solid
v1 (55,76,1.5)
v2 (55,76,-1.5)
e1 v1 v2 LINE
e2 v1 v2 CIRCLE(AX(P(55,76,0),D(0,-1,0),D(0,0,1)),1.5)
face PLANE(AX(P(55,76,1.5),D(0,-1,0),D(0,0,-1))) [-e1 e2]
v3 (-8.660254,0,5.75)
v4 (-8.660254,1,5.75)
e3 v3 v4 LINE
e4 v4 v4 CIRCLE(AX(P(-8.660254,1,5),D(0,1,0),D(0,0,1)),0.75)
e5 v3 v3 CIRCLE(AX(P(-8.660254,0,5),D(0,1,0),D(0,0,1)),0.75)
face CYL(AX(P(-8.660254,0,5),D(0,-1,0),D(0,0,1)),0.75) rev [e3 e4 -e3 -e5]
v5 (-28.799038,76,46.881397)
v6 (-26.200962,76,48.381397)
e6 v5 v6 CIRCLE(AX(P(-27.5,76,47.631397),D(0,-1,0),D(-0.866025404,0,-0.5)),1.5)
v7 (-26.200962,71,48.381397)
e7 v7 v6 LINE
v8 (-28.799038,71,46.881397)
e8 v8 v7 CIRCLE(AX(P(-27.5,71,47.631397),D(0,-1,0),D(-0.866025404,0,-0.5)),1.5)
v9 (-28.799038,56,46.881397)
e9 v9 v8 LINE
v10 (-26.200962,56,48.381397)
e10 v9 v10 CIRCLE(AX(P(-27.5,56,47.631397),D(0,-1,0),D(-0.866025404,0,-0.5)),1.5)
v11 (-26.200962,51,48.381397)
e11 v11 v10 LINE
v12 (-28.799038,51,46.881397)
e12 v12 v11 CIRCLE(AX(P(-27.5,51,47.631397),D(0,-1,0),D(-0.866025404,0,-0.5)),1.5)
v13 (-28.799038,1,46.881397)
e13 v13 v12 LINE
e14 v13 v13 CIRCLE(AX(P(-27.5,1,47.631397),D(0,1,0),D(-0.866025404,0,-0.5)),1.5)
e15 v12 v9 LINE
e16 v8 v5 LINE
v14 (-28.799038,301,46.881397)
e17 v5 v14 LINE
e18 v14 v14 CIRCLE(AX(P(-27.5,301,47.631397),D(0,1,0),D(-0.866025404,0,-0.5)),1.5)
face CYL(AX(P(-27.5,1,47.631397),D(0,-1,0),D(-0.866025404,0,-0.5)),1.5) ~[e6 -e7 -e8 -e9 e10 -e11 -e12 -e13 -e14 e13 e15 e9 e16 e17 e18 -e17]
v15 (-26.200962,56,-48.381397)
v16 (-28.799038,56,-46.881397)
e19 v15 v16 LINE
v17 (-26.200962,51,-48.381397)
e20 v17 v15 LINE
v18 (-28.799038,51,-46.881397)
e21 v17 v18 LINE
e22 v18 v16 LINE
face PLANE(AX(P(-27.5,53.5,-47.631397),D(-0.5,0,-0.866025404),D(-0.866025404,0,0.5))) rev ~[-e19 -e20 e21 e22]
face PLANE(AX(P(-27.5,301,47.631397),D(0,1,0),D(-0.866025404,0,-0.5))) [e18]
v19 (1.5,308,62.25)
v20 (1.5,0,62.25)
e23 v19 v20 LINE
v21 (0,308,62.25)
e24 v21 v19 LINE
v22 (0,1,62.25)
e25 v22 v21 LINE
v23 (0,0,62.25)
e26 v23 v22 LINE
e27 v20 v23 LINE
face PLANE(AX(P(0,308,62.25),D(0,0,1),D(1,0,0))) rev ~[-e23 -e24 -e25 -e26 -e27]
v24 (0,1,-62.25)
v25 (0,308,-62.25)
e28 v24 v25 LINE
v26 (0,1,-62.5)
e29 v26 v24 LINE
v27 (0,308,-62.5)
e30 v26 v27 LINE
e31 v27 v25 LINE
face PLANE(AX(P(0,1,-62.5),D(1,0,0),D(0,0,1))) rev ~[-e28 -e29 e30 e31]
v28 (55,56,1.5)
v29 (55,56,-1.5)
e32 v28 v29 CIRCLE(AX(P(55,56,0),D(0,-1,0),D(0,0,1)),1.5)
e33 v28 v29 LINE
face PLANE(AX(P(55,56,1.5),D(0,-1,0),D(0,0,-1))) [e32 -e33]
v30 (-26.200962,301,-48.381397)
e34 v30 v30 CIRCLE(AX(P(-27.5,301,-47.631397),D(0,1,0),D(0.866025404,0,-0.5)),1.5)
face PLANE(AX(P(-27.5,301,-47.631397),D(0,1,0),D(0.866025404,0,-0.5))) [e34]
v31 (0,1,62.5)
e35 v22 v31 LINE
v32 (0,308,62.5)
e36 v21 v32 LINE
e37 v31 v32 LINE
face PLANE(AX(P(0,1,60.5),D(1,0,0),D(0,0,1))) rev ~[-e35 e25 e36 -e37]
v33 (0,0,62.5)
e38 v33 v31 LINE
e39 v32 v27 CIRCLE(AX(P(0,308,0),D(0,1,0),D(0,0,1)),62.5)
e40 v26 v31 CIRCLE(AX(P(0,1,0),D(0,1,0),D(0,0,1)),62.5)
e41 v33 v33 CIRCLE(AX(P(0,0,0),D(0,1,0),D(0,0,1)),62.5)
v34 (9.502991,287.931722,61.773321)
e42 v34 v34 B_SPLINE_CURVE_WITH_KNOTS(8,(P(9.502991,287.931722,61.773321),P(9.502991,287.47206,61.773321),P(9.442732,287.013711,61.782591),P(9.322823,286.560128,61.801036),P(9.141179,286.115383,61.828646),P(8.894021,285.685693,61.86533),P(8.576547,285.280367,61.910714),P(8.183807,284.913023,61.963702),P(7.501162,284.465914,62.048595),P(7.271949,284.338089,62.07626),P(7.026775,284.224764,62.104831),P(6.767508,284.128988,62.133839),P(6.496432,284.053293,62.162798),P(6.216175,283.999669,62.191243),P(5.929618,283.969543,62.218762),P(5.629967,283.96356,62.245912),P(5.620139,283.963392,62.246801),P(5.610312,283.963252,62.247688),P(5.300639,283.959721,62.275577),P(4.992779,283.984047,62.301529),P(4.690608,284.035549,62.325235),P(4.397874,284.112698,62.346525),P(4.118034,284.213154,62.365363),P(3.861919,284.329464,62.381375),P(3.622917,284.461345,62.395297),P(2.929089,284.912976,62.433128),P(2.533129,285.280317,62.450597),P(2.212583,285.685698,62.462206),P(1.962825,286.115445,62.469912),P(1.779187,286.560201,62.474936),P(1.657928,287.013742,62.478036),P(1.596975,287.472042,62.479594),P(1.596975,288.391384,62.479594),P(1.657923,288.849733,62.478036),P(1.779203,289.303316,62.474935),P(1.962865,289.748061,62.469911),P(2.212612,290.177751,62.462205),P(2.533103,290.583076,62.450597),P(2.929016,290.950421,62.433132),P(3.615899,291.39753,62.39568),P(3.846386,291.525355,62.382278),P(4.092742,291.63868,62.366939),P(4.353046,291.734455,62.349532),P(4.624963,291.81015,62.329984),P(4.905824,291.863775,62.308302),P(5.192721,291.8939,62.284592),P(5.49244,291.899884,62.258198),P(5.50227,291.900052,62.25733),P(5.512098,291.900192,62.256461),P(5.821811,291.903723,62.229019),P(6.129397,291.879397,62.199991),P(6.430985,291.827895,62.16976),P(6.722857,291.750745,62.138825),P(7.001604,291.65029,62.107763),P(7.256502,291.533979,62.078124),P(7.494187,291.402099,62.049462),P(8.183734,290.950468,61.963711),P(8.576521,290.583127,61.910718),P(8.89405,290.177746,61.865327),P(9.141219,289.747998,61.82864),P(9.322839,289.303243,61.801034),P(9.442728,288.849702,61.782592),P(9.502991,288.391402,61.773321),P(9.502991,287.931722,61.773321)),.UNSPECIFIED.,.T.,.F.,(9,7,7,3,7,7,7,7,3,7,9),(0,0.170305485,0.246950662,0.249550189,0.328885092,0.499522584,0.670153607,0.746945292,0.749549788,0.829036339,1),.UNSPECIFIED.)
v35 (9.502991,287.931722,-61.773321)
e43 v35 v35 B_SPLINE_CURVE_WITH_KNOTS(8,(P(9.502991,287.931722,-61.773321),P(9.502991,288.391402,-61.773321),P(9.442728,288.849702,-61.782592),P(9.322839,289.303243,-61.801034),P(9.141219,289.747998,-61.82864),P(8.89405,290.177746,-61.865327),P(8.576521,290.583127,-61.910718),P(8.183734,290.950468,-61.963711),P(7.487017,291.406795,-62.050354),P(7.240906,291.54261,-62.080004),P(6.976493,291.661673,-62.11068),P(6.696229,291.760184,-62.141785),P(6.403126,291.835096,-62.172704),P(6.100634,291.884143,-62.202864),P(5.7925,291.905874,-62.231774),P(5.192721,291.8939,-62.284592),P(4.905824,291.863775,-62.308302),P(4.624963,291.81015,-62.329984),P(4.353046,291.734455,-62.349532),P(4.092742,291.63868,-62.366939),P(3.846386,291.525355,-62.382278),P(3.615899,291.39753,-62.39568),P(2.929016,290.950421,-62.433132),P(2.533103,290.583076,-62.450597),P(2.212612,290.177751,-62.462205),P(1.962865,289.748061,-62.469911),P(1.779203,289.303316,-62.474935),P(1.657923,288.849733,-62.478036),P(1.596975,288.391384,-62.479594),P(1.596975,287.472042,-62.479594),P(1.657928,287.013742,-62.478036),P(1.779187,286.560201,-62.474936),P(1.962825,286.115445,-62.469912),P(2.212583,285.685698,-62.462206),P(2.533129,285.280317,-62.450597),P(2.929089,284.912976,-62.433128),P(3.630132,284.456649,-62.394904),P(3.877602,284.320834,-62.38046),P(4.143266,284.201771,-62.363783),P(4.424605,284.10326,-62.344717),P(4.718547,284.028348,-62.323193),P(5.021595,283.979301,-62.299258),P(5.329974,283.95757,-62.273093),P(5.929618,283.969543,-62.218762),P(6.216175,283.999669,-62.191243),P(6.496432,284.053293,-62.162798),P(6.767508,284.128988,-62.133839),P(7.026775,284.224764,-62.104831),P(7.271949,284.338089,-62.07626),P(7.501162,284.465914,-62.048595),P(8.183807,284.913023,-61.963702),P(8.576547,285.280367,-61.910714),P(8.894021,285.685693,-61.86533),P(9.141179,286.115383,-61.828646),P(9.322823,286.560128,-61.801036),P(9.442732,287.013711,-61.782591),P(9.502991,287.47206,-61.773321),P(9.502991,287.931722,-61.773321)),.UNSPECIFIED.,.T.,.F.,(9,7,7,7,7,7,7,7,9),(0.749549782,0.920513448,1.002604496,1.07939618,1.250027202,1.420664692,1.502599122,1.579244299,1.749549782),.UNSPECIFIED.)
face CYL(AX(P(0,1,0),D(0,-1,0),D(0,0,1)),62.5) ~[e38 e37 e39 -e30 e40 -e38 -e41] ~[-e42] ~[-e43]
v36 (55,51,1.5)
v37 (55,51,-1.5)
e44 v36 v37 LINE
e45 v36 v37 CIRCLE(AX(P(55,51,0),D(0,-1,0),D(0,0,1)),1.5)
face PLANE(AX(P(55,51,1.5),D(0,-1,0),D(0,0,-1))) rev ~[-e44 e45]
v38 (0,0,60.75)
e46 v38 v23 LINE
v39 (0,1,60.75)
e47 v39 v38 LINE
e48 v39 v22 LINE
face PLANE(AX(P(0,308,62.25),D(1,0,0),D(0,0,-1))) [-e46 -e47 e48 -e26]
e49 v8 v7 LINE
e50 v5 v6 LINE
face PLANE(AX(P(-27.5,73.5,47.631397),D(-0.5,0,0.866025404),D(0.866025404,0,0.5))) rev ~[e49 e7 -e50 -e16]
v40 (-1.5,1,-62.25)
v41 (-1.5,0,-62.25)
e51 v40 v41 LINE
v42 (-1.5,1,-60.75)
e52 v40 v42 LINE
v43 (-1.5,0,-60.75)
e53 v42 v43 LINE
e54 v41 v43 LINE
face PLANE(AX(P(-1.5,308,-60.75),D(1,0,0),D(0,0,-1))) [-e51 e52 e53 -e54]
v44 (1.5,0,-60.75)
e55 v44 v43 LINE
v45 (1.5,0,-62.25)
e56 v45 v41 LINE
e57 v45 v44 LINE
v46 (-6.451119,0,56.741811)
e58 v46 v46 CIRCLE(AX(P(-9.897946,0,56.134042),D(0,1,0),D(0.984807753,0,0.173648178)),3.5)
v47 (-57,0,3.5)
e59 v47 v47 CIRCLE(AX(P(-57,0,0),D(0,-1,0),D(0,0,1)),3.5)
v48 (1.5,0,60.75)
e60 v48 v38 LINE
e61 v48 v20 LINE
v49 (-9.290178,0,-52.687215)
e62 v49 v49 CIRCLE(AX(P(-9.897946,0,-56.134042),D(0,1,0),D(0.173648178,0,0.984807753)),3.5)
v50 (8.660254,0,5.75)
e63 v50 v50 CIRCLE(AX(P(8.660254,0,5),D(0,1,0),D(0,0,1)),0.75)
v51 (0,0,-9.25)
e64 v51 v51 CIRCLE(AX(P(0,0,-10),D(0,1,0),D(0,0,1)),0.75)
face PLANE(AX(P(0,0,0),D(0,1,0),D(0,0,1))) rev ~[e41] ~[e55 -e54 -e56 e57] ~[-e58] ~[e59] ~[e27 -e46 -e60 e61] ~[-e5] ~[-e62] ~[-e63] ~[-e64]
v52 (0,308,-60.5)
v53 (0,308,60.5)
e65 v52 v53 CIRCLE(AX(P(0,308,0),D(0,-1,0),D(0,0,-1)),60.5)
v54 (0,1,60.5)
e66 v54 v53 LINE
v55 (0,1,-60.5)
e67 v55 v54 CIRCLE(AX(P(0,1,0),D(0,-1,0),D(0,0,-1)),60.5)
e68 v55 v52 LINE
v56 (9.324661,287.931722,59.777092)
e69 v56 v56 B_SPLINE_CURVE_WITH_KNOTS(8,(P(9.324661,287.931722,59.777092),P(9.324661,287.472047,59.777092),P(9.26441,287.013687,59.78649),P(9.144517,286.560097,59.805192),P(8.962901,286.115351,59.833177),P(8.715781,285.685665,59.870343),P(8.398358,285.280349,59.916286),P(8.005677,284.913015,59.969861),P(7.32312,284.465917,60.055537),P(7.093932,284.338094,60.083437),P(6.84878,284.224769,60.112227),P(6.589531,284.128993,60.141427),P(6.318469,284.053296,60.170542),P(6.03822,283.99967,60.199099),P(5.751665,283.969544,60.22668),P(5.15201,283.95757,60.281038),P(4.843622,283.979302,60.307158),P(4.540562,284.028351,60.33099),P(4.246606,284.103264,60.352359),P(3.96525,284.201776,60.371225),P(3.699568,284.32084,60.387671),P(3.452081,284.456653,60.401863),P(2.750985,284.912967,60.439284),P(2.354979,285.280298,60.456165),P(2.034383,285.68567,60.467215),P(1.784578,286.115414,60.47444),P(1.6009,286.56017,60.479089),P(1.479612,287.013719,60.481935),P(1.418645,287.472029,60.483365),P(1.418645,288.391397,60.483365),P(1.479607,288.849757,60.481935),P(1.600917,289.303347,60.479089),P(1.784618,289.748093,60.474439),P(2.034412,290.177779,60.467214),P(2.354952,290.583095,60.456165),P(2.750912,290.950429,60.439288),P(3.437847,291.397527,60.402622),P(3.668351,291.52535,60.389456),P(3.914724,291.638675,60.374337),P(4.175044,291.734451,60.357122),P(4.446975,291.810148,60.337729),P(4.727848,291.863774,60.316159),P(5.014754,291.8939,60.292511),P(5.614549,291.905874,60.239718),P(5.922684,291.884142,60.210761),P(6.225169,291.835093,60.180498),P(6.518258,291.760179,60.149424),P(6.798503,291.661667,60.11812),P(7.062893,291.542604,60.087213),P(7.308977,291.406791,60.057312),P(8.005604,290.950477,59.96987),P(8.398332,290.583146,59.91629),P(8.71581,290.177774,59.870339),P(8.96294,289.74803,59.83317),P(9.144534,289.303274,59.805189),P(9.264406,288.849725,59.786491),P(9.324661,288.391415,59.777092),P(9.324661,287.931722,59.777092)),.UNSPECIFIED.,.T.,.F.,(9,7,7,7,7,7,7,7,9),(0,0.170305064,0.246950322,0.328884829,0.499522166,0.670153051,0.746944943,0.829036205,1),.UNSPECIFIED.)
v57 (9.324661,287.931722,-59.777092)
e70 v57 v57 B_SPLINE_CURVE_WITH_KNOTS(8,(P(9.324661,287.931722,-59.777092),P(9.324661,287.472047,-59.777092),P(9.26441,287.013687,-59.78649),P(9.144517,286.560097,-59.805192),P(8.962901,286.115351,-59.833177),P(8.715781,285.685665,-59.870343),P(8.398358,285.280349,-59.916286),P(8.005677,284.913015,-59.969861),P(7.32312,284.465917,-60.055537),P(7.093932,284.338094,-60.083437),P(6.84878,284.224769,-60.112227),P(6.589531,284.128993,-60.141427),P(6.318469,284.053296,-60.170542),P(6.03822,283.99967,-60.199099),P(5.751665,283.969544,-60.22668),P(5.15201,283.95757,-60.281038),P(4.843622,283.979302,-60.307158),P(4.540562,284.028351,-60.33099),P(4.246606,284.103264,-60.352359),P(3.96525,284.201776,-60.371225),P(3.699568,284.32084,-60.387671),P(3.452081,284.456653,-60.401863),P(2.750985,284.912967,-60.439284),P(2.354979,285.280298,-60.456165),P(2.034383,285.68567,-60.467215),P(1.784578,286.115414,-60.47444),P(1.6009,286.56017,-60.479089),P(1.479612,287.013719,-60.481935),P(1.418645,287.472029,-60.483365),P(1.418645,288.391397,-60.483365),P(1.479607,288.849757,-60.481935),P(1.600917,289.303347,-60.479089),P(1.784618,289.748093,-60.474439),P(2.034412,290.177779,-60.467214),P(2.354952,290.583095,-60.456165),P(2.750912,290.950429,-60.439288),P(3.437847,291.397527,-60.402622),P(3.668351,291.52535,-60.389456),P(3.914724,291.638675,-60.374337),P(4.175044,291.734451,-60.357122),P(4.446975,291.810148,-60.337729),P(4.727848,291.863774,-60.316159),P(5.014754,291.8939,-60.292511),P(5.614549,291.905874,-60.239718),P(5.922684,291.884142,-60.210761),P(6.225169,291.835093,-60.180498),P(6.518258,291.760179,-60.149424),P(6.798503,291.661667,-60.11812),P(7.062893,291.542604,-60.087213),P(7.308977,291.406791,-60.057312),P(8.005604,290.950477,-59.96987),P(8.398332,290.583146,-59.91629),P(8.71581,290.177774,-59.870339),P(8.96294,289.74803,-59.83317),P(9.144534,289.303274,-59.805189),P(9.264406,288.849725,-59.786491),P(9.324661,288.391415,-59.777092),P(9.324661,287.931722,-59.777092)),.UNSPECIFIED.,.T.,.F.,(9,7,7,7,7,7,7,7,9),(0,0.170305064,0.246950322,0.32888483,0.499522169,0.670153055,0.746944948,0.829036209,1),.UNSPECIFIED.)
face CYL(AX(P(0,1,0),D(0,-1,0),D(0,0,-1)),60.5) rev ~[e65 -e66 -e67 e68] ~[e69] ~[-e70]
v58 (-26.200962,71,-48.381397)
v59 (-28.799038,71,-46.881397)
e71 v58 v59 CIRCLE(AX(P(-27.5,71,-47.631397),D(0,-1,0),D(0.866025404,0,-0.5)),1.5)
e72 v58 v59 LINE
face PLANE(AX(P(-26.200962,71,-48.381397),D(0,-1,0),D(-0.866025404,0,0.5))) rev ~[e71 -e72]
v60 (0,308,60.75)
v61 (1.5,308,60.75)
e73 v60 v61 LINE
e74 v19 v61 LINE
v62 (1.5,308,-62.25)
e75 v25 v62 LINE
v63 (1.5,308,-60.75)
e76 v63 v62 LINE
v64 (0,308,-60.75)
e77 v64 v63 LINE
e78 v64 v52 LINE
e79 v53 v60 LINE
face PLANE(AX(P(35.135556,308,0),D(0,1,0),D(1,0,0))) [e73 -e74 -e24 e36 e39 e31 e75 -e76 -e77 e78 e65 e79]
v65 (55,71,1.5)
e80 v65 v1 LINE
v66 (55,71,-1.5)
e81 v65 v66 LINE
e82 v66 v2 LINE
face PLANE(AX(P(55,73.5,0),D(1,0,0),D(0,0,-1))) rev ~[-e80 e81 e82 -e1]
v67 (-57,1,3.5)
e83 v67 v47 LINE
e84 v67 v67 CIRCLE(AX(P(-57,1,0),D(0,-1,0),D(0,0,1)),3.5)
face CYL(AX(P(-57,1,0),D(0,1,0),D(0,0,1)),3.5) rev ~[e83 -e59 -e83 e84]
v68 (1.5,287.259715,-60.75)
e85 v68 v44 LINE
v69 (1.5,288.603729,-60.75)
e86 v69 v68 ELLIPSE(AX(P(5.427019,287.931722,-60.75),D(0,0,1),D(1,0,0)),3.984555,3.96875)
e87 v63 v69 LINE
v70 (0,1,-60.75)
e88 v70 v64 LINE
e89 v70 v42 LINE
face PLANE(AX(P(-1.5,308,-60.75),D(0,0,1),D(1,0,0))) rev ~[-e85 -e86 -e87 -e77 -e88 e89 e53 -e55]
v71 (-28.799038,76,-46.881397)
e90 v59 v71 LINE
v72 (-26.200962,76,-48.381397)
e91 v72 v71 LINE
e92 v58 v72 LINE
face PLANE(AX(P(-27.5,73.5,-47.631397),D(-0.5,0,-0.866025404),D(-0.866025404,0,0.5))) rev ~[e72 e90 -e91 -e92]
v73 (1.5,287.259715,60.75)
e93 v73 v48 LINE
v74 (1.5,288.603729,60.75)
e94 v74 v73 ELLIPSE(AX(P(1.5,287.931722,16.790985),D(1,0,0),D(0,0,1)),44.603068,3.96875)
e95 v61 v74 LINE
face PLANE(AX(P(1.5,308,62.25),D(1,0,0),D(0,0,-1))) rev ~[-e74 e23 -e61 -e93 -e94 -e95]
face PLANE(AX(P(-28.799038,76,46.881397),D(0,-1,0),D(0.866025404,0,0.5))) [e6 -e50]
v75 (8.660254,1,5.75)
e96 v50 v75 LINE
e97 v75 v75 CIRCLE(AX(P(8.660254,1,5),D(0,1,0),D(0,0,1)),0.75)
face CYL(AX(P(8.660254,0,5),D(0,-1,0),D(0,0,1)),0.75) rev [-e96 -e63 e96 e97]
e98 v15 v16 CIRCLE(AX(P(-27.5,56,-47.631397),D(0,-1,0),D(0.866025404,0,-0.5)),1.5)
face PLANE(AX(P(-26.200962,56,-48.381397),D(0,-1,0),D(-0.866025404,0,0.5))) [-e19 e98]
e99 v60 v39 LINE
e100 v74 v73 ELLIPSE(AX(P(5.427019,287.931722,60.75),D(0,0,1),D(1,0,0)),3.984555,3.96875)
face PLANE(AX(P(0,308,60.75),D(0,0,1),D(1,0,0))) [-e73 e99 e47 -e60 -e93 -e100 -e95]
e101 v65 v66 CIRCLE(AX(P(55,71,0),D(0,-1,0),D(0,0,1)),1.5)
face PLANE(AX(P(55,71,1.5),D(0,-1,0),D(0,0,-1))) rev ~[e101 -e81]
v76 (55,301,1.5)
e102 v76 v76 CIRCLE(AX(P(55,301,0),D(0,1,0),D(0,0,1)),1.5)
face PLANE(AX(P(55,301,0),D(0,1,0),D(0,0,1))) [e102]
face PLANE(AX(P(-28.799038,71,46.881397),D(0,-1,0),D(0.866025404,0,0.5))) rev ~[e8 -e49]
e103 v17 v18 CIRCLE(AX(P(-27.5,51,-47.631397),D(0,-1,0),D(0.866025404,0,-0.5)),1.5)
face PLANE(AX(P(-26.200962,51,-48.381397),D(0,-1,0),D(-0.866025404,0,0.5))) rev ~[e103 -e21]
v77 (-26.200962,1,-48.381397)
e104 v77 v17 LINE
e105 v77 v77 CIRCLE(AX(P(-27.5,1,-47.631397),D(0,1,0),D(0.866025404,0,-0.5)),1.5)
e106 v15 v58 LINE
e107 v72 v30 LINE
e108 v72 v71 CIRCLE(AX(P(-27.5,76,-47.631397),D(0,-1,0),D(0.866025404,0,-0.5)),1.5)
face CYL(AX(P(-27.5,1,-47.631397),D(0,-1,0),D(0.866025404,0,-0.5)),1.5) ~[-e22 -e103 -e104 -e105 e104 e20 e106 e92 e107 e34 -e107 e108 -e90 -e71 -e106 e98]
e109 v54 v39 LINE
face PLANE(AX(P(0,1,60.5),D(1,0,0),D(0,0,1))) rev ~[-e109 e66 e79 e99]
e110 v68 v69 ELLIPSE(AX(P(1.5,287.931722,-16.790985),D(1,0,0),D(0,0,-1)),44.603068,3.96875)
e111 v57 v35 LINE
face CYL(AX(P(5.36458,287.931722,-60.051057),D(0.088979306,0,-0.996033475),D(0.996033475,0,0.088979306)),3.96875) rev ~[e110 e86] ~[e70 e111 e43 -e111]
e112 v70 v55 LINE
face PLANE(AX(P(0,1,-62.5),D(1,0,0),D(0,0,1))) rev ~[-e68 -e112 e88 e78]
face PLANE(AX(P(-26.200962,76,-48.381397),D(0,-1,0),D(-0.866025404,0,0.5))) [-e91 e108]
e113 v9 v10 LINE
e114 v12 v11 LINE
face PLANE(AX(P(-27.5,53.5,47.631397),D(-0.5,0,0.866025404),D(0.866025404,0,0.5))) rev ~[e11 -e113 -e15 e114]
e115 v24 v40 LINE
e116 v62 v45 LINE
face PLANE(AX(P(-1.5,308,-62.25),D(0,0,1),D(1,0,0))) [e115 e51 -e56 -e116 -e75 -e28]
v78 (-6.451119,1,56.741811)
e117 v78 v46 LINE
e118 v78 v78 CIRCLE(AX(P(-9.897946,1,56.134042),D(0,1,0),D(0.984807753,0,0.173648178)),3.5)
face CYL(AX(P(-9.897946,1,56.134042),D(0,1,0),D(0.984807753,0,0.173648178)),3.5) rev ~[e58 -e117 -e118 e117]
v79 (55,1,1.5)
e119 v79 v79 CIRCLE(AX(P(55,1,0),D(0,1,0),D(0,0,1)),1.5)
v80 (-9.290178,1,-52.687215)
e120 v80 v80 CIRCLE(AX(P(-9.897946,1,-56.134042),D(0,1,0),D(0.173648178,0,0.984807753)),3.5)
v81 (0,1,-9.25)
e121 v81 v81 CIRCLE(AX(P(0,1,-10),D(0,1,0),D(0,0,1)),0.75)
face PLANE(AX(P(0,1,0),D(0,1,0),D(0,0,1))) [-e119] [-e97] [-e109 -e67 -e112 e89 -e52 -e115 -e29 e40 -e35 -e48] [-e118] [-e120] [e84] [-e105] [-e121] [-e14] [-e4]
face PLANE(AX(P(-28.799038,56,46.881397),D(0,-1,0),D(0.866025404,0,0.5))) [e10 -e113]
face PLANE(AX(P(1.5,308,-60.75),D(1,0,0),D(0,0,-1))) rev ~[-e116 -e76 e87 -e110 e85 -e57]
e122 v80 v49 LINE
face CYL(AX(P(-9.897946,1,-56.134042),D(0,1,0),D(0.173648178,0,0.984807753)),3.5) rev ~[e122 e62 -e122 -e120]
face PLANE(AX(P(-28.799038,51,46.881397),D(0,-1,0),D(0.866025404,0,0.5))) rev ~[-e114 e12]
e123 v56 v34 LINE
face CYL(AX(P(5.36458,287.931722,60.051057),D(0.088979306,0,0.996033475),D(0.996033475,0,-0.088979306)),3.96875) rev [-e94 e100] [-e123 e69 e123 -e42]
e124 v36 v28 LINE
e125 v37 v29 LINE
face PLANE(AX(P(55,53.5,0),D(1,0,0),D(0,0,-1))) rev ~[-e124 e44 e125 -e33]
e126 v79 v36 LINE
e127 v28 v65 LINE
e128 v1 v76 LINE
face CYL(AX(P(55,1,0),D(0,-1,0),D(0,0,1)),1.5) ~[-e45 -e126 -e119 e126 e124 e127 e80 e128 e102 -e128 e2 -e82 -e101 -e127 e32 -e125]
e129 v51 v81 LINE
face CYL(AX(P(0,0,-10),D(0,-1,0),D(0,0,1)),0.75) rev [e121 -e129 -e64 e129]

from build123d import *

# Parameters (mm, degrees)
SKETCH2_R               = 62.5
SKETCH2_R_2             = 0.75
BOSS_EXTRUDE1_DEPTH     = 1
SKETCH3_R               = 1.5
BOSS_EXTRUDE2_DEPTH     = 300
SKETCH5_W               = 3
SKETCH5_H               = 5
CUT_EXTRUDE1_DEPTH      = 5
CIRPATTERN1_COUNT       = 3
BOSS_EXTRUDE3_DEPTH     = 307
CUT_EXTRUDE2_REACH      = 322.432
SKETCH10_W              = 1.5
SKETCH10_H              = 1.5
SKETCH10_W_2            = 3
SKETCH11_R              = 3.5
CUT_EXTRUDE3_DEPTH      = 5
CIRPATTERN4_COUNT       = 2
CIRPATTERN4_ANGLE       = 80
MIRROR1_COPY_1_SKETCH_R = 3.5
MIRROR1_COPY_1_DEPTH    = 5
MIRROR1_COPY_2_SKETCH_R = 3.5
MIRROR1_COPY_2_DEPTH    = 5


with BuildPart() as part:
    # Sketch2 → Boss-Extrude1 (new body)
    with BuildSketch(Plane(origin=(0, 0, 0), x_dir=(1, 0, 0), z_dir=(0, 1, 0))):
        with Locations(Location((0, 0, 0), (0, 0, 270))):
            Circle(SKETCH2_R)
        with Locations(Location((0, 10, 0), (0, 0, 270))):
            Circle(SKETCH2_R_2, mode=Mode.SUBTRACT)
        with Locations(Location((8.660254038, -5, 0), (0, 0, 270))):
            Circle(SKETCH2_R_2, mode=Mode.SUBTRACT)
        with Locations(Location((-8.660254038, -5, 0), (0, 0, 270))):
            Circle(SKETCH2_R_2, mode=Mode.SUBTRACT)
    extrude(amount=BOSS_EXTRUDE1_DEPTH)

    # Sketch3 → Boss-Extrude2 (add)
    with BuildSketch(Plane(origin=(0, 1, 0), x_dir=(1, 0, 0), z_dir=(0, 1, 0))):
        with Locations(Location((55, 0, 0), (0, 0, 270))):
            Circle(SKETCH3_R)
    boss_extrude2 = extrude(amount=BOSS_EXTRUDE2_DEPTH)

    # Sketch5 → Cut-Extrude1 (cut)
    with BuildSketch(Plane(origin=(55, 0, 0), x_dir=(0, 0, -1), z_dir=(1, 0, 0))):
        with Locations((0, 53.5)):
            Rectangle(SKETCH5_W, SKETCH5_H)
        with Locations((0, 73.5)):
            Rectangle(SKETCH5_W, SKETCH5_H)
    cut_extrude1 = extrude(amount=-CUT_EXTRUDE1_DEPTH, mode=Mode.SUBTRACT)

    # CirPattern1: Boss-Extrude2, Cut-Extrude1 ×3 about axis
    cirpattern1_axis = Axis((0, 0, 0), (0, 1, 0))
    add([boss_extrude2.rotate(cirpattern1_axis, i * 360 / CIRPATTERN1_COUNT) for i in range(1, CIRPATTERN1_COUNT)])
    add([cut_extrude1.rotate(cirpattern1_axis, i * 360 / CIRPATTERN1_COUNT) for i in range(1, CIRPATTERN1_COUNT)], mode=Mode.SUBTRACT)

    # Sketch6 → Boss-Extrude3 (add)
    with BuildSketch(Plane(origin=(0, 1, 0), x_dir=(1, 0, 0), z_dir=(0, 1, 0))):
        with BuildLine():
            Line((0, 62.5), (0, 60.5))
            ThreePointArc((0, 60.5), (60.5, 0), (0, -60.5))
            Line((0, -60.5), (0, -62.5))
            ThreePointArc((0, -62.5), (62.5, 0), (0, 62.5))
        make_face()
    extrude(amount=BOSS_EXTRUDE3_DEPTH)

    # Sketch10 → Cut-Extrude2 (cut, up to next)
    with BuildSketch(Plane(origin=(0, 308, 0), x_dir=(1, 0, 0), z_dir=(0, 1, 0)), mode=Mode.PRIVATE) as cut_extrude2_sk1:
        with Locations((0.75, -61.5)):
            Rectangle(SKETCH10_W, SKETCH10_H)
    cut_extrude2_tool1 = extrude(cut_extrude2_sk1.sketch, amount=-CUT_EXTRUDE2_REACH, mode=Mode.PRIVATE) & part.part
    # Sketch10 → Cut-Extrude2 (cut, up to next)
    with BuildSketch(Plane(origin=(0, 308, 0), x_dir=(1, 0, 0), z_dir=(0, 1, 0)), mode=Mode.PRIVATE) as cut_extrude2_sk2:
        with Locations((0, 61.5)):
            Rectangle(SKETCH10_W_2, SKETCH10_H)
    cut_extrude2_tool2 = extrude(cut_extrude2_sk2.sketch, amount=-CUT_EXTRUDE2_REACH, mode=Mode.PRIVATE) & part.part
    add(cut_extrude2_tool1.solids().sort_by_distance((0.75, 308, 61.5))[0], mode=Mode.SUBTRACT)
    add(cut_extrude2_tool2.solids().sort_by_distance((0, 308, -61.5))[0], mode=Mode.SUBTRACT)

    # Sketch11 → Cut-Extrude3 (cut)
    with BuildSketch(Plane(origin=(0, 1, 0), x_dir=(1, 0, 0), z_dir=(0, 1, 0))):
        with Locations(Location((-57, 0, 0), (0, 0, 270))):
            Circle(SKETCH11_R)
    cut_extrude3 = extrude(amount=-CUT_EXTRUDE3_DEPTH, mode=Mode.SUBTRACT)

    # CirPattern4: Cut-Extrude3 ×2 about axis
    cirpattern4_axis = Axis((0, 1, 0), (0, 1, 0))
    for i in range(1, CIRPATTERN4_COUNT):
        add(cut_extrude3.rotate(cirpattern4_axis, i * CIRPATTERN4_ANGLE / (CIRPATTERN4_COUNT - 1)), mode=Mode.SUBTRACT)

    # Mirror1 copy 1 sketch → Mirror1 copy 1 (cut)
    with BuildSketch(Plane(origin=(0, 1, 0), x_dir=(0.17364817766692714, 0, 0.9848077530122086), z_dir=(0, 1, 0))):
        with Locations((-57, 0)):
            Circle(MIRROR1_COPY_1_SKETCH_R)
    extrude(amount=-MIRROR1_COPY_1_DEPTH, mode=Mode.SUBTRACT)

    # Mirror1 copy 2 sketch → Mirror1 copy 2 (cut)
    with BuildSketch(Plane(origin=(0, 1, 0), x_dir=(1, 0, 0), z_dir=(0, 1, 0))):
        with Locations((-57, 0)):
            Circle(MIRROR1_COPY_2_SKETCH_R)
    extrude(amount=-MIRROR1_COPY_2_DEPTH, mode=Mode.SUBTRACT)

    # Sketch16 → CBORE for #6 Binding Head Machine Screw1 (revolve, cut)
    with BuildSketch(Plane(origin=(5.561206614, 287.931721959, 62.252092182), x_dir=(0.9960334749074581, 0, -0.08897930581755542), z_dir=(0, 1, 0))):
        Polygon((0, 0), (0, 8.293442612), (2.15265, 7), (2.15265, 2.2098), (3.96875, 2.2098), (3.96875, 0), align=None)
    cbore_for_6_binding_head_machine_screw1 = revolve(axis=Axis((6.126225206, 287.931721959, 68.576904747), (-0.08897930581755542, 0, -0.9960334749074581)), mode=Mode.SUBTRACT)

    # Mirror3: CBORE for #6 Binding Head Machine Screw1 across plane
    add(cbore_for_6_binding_head_machine_screw1.mirror(Plane.XY), mode=Mode.SUBTRACT)


solid = part.part
